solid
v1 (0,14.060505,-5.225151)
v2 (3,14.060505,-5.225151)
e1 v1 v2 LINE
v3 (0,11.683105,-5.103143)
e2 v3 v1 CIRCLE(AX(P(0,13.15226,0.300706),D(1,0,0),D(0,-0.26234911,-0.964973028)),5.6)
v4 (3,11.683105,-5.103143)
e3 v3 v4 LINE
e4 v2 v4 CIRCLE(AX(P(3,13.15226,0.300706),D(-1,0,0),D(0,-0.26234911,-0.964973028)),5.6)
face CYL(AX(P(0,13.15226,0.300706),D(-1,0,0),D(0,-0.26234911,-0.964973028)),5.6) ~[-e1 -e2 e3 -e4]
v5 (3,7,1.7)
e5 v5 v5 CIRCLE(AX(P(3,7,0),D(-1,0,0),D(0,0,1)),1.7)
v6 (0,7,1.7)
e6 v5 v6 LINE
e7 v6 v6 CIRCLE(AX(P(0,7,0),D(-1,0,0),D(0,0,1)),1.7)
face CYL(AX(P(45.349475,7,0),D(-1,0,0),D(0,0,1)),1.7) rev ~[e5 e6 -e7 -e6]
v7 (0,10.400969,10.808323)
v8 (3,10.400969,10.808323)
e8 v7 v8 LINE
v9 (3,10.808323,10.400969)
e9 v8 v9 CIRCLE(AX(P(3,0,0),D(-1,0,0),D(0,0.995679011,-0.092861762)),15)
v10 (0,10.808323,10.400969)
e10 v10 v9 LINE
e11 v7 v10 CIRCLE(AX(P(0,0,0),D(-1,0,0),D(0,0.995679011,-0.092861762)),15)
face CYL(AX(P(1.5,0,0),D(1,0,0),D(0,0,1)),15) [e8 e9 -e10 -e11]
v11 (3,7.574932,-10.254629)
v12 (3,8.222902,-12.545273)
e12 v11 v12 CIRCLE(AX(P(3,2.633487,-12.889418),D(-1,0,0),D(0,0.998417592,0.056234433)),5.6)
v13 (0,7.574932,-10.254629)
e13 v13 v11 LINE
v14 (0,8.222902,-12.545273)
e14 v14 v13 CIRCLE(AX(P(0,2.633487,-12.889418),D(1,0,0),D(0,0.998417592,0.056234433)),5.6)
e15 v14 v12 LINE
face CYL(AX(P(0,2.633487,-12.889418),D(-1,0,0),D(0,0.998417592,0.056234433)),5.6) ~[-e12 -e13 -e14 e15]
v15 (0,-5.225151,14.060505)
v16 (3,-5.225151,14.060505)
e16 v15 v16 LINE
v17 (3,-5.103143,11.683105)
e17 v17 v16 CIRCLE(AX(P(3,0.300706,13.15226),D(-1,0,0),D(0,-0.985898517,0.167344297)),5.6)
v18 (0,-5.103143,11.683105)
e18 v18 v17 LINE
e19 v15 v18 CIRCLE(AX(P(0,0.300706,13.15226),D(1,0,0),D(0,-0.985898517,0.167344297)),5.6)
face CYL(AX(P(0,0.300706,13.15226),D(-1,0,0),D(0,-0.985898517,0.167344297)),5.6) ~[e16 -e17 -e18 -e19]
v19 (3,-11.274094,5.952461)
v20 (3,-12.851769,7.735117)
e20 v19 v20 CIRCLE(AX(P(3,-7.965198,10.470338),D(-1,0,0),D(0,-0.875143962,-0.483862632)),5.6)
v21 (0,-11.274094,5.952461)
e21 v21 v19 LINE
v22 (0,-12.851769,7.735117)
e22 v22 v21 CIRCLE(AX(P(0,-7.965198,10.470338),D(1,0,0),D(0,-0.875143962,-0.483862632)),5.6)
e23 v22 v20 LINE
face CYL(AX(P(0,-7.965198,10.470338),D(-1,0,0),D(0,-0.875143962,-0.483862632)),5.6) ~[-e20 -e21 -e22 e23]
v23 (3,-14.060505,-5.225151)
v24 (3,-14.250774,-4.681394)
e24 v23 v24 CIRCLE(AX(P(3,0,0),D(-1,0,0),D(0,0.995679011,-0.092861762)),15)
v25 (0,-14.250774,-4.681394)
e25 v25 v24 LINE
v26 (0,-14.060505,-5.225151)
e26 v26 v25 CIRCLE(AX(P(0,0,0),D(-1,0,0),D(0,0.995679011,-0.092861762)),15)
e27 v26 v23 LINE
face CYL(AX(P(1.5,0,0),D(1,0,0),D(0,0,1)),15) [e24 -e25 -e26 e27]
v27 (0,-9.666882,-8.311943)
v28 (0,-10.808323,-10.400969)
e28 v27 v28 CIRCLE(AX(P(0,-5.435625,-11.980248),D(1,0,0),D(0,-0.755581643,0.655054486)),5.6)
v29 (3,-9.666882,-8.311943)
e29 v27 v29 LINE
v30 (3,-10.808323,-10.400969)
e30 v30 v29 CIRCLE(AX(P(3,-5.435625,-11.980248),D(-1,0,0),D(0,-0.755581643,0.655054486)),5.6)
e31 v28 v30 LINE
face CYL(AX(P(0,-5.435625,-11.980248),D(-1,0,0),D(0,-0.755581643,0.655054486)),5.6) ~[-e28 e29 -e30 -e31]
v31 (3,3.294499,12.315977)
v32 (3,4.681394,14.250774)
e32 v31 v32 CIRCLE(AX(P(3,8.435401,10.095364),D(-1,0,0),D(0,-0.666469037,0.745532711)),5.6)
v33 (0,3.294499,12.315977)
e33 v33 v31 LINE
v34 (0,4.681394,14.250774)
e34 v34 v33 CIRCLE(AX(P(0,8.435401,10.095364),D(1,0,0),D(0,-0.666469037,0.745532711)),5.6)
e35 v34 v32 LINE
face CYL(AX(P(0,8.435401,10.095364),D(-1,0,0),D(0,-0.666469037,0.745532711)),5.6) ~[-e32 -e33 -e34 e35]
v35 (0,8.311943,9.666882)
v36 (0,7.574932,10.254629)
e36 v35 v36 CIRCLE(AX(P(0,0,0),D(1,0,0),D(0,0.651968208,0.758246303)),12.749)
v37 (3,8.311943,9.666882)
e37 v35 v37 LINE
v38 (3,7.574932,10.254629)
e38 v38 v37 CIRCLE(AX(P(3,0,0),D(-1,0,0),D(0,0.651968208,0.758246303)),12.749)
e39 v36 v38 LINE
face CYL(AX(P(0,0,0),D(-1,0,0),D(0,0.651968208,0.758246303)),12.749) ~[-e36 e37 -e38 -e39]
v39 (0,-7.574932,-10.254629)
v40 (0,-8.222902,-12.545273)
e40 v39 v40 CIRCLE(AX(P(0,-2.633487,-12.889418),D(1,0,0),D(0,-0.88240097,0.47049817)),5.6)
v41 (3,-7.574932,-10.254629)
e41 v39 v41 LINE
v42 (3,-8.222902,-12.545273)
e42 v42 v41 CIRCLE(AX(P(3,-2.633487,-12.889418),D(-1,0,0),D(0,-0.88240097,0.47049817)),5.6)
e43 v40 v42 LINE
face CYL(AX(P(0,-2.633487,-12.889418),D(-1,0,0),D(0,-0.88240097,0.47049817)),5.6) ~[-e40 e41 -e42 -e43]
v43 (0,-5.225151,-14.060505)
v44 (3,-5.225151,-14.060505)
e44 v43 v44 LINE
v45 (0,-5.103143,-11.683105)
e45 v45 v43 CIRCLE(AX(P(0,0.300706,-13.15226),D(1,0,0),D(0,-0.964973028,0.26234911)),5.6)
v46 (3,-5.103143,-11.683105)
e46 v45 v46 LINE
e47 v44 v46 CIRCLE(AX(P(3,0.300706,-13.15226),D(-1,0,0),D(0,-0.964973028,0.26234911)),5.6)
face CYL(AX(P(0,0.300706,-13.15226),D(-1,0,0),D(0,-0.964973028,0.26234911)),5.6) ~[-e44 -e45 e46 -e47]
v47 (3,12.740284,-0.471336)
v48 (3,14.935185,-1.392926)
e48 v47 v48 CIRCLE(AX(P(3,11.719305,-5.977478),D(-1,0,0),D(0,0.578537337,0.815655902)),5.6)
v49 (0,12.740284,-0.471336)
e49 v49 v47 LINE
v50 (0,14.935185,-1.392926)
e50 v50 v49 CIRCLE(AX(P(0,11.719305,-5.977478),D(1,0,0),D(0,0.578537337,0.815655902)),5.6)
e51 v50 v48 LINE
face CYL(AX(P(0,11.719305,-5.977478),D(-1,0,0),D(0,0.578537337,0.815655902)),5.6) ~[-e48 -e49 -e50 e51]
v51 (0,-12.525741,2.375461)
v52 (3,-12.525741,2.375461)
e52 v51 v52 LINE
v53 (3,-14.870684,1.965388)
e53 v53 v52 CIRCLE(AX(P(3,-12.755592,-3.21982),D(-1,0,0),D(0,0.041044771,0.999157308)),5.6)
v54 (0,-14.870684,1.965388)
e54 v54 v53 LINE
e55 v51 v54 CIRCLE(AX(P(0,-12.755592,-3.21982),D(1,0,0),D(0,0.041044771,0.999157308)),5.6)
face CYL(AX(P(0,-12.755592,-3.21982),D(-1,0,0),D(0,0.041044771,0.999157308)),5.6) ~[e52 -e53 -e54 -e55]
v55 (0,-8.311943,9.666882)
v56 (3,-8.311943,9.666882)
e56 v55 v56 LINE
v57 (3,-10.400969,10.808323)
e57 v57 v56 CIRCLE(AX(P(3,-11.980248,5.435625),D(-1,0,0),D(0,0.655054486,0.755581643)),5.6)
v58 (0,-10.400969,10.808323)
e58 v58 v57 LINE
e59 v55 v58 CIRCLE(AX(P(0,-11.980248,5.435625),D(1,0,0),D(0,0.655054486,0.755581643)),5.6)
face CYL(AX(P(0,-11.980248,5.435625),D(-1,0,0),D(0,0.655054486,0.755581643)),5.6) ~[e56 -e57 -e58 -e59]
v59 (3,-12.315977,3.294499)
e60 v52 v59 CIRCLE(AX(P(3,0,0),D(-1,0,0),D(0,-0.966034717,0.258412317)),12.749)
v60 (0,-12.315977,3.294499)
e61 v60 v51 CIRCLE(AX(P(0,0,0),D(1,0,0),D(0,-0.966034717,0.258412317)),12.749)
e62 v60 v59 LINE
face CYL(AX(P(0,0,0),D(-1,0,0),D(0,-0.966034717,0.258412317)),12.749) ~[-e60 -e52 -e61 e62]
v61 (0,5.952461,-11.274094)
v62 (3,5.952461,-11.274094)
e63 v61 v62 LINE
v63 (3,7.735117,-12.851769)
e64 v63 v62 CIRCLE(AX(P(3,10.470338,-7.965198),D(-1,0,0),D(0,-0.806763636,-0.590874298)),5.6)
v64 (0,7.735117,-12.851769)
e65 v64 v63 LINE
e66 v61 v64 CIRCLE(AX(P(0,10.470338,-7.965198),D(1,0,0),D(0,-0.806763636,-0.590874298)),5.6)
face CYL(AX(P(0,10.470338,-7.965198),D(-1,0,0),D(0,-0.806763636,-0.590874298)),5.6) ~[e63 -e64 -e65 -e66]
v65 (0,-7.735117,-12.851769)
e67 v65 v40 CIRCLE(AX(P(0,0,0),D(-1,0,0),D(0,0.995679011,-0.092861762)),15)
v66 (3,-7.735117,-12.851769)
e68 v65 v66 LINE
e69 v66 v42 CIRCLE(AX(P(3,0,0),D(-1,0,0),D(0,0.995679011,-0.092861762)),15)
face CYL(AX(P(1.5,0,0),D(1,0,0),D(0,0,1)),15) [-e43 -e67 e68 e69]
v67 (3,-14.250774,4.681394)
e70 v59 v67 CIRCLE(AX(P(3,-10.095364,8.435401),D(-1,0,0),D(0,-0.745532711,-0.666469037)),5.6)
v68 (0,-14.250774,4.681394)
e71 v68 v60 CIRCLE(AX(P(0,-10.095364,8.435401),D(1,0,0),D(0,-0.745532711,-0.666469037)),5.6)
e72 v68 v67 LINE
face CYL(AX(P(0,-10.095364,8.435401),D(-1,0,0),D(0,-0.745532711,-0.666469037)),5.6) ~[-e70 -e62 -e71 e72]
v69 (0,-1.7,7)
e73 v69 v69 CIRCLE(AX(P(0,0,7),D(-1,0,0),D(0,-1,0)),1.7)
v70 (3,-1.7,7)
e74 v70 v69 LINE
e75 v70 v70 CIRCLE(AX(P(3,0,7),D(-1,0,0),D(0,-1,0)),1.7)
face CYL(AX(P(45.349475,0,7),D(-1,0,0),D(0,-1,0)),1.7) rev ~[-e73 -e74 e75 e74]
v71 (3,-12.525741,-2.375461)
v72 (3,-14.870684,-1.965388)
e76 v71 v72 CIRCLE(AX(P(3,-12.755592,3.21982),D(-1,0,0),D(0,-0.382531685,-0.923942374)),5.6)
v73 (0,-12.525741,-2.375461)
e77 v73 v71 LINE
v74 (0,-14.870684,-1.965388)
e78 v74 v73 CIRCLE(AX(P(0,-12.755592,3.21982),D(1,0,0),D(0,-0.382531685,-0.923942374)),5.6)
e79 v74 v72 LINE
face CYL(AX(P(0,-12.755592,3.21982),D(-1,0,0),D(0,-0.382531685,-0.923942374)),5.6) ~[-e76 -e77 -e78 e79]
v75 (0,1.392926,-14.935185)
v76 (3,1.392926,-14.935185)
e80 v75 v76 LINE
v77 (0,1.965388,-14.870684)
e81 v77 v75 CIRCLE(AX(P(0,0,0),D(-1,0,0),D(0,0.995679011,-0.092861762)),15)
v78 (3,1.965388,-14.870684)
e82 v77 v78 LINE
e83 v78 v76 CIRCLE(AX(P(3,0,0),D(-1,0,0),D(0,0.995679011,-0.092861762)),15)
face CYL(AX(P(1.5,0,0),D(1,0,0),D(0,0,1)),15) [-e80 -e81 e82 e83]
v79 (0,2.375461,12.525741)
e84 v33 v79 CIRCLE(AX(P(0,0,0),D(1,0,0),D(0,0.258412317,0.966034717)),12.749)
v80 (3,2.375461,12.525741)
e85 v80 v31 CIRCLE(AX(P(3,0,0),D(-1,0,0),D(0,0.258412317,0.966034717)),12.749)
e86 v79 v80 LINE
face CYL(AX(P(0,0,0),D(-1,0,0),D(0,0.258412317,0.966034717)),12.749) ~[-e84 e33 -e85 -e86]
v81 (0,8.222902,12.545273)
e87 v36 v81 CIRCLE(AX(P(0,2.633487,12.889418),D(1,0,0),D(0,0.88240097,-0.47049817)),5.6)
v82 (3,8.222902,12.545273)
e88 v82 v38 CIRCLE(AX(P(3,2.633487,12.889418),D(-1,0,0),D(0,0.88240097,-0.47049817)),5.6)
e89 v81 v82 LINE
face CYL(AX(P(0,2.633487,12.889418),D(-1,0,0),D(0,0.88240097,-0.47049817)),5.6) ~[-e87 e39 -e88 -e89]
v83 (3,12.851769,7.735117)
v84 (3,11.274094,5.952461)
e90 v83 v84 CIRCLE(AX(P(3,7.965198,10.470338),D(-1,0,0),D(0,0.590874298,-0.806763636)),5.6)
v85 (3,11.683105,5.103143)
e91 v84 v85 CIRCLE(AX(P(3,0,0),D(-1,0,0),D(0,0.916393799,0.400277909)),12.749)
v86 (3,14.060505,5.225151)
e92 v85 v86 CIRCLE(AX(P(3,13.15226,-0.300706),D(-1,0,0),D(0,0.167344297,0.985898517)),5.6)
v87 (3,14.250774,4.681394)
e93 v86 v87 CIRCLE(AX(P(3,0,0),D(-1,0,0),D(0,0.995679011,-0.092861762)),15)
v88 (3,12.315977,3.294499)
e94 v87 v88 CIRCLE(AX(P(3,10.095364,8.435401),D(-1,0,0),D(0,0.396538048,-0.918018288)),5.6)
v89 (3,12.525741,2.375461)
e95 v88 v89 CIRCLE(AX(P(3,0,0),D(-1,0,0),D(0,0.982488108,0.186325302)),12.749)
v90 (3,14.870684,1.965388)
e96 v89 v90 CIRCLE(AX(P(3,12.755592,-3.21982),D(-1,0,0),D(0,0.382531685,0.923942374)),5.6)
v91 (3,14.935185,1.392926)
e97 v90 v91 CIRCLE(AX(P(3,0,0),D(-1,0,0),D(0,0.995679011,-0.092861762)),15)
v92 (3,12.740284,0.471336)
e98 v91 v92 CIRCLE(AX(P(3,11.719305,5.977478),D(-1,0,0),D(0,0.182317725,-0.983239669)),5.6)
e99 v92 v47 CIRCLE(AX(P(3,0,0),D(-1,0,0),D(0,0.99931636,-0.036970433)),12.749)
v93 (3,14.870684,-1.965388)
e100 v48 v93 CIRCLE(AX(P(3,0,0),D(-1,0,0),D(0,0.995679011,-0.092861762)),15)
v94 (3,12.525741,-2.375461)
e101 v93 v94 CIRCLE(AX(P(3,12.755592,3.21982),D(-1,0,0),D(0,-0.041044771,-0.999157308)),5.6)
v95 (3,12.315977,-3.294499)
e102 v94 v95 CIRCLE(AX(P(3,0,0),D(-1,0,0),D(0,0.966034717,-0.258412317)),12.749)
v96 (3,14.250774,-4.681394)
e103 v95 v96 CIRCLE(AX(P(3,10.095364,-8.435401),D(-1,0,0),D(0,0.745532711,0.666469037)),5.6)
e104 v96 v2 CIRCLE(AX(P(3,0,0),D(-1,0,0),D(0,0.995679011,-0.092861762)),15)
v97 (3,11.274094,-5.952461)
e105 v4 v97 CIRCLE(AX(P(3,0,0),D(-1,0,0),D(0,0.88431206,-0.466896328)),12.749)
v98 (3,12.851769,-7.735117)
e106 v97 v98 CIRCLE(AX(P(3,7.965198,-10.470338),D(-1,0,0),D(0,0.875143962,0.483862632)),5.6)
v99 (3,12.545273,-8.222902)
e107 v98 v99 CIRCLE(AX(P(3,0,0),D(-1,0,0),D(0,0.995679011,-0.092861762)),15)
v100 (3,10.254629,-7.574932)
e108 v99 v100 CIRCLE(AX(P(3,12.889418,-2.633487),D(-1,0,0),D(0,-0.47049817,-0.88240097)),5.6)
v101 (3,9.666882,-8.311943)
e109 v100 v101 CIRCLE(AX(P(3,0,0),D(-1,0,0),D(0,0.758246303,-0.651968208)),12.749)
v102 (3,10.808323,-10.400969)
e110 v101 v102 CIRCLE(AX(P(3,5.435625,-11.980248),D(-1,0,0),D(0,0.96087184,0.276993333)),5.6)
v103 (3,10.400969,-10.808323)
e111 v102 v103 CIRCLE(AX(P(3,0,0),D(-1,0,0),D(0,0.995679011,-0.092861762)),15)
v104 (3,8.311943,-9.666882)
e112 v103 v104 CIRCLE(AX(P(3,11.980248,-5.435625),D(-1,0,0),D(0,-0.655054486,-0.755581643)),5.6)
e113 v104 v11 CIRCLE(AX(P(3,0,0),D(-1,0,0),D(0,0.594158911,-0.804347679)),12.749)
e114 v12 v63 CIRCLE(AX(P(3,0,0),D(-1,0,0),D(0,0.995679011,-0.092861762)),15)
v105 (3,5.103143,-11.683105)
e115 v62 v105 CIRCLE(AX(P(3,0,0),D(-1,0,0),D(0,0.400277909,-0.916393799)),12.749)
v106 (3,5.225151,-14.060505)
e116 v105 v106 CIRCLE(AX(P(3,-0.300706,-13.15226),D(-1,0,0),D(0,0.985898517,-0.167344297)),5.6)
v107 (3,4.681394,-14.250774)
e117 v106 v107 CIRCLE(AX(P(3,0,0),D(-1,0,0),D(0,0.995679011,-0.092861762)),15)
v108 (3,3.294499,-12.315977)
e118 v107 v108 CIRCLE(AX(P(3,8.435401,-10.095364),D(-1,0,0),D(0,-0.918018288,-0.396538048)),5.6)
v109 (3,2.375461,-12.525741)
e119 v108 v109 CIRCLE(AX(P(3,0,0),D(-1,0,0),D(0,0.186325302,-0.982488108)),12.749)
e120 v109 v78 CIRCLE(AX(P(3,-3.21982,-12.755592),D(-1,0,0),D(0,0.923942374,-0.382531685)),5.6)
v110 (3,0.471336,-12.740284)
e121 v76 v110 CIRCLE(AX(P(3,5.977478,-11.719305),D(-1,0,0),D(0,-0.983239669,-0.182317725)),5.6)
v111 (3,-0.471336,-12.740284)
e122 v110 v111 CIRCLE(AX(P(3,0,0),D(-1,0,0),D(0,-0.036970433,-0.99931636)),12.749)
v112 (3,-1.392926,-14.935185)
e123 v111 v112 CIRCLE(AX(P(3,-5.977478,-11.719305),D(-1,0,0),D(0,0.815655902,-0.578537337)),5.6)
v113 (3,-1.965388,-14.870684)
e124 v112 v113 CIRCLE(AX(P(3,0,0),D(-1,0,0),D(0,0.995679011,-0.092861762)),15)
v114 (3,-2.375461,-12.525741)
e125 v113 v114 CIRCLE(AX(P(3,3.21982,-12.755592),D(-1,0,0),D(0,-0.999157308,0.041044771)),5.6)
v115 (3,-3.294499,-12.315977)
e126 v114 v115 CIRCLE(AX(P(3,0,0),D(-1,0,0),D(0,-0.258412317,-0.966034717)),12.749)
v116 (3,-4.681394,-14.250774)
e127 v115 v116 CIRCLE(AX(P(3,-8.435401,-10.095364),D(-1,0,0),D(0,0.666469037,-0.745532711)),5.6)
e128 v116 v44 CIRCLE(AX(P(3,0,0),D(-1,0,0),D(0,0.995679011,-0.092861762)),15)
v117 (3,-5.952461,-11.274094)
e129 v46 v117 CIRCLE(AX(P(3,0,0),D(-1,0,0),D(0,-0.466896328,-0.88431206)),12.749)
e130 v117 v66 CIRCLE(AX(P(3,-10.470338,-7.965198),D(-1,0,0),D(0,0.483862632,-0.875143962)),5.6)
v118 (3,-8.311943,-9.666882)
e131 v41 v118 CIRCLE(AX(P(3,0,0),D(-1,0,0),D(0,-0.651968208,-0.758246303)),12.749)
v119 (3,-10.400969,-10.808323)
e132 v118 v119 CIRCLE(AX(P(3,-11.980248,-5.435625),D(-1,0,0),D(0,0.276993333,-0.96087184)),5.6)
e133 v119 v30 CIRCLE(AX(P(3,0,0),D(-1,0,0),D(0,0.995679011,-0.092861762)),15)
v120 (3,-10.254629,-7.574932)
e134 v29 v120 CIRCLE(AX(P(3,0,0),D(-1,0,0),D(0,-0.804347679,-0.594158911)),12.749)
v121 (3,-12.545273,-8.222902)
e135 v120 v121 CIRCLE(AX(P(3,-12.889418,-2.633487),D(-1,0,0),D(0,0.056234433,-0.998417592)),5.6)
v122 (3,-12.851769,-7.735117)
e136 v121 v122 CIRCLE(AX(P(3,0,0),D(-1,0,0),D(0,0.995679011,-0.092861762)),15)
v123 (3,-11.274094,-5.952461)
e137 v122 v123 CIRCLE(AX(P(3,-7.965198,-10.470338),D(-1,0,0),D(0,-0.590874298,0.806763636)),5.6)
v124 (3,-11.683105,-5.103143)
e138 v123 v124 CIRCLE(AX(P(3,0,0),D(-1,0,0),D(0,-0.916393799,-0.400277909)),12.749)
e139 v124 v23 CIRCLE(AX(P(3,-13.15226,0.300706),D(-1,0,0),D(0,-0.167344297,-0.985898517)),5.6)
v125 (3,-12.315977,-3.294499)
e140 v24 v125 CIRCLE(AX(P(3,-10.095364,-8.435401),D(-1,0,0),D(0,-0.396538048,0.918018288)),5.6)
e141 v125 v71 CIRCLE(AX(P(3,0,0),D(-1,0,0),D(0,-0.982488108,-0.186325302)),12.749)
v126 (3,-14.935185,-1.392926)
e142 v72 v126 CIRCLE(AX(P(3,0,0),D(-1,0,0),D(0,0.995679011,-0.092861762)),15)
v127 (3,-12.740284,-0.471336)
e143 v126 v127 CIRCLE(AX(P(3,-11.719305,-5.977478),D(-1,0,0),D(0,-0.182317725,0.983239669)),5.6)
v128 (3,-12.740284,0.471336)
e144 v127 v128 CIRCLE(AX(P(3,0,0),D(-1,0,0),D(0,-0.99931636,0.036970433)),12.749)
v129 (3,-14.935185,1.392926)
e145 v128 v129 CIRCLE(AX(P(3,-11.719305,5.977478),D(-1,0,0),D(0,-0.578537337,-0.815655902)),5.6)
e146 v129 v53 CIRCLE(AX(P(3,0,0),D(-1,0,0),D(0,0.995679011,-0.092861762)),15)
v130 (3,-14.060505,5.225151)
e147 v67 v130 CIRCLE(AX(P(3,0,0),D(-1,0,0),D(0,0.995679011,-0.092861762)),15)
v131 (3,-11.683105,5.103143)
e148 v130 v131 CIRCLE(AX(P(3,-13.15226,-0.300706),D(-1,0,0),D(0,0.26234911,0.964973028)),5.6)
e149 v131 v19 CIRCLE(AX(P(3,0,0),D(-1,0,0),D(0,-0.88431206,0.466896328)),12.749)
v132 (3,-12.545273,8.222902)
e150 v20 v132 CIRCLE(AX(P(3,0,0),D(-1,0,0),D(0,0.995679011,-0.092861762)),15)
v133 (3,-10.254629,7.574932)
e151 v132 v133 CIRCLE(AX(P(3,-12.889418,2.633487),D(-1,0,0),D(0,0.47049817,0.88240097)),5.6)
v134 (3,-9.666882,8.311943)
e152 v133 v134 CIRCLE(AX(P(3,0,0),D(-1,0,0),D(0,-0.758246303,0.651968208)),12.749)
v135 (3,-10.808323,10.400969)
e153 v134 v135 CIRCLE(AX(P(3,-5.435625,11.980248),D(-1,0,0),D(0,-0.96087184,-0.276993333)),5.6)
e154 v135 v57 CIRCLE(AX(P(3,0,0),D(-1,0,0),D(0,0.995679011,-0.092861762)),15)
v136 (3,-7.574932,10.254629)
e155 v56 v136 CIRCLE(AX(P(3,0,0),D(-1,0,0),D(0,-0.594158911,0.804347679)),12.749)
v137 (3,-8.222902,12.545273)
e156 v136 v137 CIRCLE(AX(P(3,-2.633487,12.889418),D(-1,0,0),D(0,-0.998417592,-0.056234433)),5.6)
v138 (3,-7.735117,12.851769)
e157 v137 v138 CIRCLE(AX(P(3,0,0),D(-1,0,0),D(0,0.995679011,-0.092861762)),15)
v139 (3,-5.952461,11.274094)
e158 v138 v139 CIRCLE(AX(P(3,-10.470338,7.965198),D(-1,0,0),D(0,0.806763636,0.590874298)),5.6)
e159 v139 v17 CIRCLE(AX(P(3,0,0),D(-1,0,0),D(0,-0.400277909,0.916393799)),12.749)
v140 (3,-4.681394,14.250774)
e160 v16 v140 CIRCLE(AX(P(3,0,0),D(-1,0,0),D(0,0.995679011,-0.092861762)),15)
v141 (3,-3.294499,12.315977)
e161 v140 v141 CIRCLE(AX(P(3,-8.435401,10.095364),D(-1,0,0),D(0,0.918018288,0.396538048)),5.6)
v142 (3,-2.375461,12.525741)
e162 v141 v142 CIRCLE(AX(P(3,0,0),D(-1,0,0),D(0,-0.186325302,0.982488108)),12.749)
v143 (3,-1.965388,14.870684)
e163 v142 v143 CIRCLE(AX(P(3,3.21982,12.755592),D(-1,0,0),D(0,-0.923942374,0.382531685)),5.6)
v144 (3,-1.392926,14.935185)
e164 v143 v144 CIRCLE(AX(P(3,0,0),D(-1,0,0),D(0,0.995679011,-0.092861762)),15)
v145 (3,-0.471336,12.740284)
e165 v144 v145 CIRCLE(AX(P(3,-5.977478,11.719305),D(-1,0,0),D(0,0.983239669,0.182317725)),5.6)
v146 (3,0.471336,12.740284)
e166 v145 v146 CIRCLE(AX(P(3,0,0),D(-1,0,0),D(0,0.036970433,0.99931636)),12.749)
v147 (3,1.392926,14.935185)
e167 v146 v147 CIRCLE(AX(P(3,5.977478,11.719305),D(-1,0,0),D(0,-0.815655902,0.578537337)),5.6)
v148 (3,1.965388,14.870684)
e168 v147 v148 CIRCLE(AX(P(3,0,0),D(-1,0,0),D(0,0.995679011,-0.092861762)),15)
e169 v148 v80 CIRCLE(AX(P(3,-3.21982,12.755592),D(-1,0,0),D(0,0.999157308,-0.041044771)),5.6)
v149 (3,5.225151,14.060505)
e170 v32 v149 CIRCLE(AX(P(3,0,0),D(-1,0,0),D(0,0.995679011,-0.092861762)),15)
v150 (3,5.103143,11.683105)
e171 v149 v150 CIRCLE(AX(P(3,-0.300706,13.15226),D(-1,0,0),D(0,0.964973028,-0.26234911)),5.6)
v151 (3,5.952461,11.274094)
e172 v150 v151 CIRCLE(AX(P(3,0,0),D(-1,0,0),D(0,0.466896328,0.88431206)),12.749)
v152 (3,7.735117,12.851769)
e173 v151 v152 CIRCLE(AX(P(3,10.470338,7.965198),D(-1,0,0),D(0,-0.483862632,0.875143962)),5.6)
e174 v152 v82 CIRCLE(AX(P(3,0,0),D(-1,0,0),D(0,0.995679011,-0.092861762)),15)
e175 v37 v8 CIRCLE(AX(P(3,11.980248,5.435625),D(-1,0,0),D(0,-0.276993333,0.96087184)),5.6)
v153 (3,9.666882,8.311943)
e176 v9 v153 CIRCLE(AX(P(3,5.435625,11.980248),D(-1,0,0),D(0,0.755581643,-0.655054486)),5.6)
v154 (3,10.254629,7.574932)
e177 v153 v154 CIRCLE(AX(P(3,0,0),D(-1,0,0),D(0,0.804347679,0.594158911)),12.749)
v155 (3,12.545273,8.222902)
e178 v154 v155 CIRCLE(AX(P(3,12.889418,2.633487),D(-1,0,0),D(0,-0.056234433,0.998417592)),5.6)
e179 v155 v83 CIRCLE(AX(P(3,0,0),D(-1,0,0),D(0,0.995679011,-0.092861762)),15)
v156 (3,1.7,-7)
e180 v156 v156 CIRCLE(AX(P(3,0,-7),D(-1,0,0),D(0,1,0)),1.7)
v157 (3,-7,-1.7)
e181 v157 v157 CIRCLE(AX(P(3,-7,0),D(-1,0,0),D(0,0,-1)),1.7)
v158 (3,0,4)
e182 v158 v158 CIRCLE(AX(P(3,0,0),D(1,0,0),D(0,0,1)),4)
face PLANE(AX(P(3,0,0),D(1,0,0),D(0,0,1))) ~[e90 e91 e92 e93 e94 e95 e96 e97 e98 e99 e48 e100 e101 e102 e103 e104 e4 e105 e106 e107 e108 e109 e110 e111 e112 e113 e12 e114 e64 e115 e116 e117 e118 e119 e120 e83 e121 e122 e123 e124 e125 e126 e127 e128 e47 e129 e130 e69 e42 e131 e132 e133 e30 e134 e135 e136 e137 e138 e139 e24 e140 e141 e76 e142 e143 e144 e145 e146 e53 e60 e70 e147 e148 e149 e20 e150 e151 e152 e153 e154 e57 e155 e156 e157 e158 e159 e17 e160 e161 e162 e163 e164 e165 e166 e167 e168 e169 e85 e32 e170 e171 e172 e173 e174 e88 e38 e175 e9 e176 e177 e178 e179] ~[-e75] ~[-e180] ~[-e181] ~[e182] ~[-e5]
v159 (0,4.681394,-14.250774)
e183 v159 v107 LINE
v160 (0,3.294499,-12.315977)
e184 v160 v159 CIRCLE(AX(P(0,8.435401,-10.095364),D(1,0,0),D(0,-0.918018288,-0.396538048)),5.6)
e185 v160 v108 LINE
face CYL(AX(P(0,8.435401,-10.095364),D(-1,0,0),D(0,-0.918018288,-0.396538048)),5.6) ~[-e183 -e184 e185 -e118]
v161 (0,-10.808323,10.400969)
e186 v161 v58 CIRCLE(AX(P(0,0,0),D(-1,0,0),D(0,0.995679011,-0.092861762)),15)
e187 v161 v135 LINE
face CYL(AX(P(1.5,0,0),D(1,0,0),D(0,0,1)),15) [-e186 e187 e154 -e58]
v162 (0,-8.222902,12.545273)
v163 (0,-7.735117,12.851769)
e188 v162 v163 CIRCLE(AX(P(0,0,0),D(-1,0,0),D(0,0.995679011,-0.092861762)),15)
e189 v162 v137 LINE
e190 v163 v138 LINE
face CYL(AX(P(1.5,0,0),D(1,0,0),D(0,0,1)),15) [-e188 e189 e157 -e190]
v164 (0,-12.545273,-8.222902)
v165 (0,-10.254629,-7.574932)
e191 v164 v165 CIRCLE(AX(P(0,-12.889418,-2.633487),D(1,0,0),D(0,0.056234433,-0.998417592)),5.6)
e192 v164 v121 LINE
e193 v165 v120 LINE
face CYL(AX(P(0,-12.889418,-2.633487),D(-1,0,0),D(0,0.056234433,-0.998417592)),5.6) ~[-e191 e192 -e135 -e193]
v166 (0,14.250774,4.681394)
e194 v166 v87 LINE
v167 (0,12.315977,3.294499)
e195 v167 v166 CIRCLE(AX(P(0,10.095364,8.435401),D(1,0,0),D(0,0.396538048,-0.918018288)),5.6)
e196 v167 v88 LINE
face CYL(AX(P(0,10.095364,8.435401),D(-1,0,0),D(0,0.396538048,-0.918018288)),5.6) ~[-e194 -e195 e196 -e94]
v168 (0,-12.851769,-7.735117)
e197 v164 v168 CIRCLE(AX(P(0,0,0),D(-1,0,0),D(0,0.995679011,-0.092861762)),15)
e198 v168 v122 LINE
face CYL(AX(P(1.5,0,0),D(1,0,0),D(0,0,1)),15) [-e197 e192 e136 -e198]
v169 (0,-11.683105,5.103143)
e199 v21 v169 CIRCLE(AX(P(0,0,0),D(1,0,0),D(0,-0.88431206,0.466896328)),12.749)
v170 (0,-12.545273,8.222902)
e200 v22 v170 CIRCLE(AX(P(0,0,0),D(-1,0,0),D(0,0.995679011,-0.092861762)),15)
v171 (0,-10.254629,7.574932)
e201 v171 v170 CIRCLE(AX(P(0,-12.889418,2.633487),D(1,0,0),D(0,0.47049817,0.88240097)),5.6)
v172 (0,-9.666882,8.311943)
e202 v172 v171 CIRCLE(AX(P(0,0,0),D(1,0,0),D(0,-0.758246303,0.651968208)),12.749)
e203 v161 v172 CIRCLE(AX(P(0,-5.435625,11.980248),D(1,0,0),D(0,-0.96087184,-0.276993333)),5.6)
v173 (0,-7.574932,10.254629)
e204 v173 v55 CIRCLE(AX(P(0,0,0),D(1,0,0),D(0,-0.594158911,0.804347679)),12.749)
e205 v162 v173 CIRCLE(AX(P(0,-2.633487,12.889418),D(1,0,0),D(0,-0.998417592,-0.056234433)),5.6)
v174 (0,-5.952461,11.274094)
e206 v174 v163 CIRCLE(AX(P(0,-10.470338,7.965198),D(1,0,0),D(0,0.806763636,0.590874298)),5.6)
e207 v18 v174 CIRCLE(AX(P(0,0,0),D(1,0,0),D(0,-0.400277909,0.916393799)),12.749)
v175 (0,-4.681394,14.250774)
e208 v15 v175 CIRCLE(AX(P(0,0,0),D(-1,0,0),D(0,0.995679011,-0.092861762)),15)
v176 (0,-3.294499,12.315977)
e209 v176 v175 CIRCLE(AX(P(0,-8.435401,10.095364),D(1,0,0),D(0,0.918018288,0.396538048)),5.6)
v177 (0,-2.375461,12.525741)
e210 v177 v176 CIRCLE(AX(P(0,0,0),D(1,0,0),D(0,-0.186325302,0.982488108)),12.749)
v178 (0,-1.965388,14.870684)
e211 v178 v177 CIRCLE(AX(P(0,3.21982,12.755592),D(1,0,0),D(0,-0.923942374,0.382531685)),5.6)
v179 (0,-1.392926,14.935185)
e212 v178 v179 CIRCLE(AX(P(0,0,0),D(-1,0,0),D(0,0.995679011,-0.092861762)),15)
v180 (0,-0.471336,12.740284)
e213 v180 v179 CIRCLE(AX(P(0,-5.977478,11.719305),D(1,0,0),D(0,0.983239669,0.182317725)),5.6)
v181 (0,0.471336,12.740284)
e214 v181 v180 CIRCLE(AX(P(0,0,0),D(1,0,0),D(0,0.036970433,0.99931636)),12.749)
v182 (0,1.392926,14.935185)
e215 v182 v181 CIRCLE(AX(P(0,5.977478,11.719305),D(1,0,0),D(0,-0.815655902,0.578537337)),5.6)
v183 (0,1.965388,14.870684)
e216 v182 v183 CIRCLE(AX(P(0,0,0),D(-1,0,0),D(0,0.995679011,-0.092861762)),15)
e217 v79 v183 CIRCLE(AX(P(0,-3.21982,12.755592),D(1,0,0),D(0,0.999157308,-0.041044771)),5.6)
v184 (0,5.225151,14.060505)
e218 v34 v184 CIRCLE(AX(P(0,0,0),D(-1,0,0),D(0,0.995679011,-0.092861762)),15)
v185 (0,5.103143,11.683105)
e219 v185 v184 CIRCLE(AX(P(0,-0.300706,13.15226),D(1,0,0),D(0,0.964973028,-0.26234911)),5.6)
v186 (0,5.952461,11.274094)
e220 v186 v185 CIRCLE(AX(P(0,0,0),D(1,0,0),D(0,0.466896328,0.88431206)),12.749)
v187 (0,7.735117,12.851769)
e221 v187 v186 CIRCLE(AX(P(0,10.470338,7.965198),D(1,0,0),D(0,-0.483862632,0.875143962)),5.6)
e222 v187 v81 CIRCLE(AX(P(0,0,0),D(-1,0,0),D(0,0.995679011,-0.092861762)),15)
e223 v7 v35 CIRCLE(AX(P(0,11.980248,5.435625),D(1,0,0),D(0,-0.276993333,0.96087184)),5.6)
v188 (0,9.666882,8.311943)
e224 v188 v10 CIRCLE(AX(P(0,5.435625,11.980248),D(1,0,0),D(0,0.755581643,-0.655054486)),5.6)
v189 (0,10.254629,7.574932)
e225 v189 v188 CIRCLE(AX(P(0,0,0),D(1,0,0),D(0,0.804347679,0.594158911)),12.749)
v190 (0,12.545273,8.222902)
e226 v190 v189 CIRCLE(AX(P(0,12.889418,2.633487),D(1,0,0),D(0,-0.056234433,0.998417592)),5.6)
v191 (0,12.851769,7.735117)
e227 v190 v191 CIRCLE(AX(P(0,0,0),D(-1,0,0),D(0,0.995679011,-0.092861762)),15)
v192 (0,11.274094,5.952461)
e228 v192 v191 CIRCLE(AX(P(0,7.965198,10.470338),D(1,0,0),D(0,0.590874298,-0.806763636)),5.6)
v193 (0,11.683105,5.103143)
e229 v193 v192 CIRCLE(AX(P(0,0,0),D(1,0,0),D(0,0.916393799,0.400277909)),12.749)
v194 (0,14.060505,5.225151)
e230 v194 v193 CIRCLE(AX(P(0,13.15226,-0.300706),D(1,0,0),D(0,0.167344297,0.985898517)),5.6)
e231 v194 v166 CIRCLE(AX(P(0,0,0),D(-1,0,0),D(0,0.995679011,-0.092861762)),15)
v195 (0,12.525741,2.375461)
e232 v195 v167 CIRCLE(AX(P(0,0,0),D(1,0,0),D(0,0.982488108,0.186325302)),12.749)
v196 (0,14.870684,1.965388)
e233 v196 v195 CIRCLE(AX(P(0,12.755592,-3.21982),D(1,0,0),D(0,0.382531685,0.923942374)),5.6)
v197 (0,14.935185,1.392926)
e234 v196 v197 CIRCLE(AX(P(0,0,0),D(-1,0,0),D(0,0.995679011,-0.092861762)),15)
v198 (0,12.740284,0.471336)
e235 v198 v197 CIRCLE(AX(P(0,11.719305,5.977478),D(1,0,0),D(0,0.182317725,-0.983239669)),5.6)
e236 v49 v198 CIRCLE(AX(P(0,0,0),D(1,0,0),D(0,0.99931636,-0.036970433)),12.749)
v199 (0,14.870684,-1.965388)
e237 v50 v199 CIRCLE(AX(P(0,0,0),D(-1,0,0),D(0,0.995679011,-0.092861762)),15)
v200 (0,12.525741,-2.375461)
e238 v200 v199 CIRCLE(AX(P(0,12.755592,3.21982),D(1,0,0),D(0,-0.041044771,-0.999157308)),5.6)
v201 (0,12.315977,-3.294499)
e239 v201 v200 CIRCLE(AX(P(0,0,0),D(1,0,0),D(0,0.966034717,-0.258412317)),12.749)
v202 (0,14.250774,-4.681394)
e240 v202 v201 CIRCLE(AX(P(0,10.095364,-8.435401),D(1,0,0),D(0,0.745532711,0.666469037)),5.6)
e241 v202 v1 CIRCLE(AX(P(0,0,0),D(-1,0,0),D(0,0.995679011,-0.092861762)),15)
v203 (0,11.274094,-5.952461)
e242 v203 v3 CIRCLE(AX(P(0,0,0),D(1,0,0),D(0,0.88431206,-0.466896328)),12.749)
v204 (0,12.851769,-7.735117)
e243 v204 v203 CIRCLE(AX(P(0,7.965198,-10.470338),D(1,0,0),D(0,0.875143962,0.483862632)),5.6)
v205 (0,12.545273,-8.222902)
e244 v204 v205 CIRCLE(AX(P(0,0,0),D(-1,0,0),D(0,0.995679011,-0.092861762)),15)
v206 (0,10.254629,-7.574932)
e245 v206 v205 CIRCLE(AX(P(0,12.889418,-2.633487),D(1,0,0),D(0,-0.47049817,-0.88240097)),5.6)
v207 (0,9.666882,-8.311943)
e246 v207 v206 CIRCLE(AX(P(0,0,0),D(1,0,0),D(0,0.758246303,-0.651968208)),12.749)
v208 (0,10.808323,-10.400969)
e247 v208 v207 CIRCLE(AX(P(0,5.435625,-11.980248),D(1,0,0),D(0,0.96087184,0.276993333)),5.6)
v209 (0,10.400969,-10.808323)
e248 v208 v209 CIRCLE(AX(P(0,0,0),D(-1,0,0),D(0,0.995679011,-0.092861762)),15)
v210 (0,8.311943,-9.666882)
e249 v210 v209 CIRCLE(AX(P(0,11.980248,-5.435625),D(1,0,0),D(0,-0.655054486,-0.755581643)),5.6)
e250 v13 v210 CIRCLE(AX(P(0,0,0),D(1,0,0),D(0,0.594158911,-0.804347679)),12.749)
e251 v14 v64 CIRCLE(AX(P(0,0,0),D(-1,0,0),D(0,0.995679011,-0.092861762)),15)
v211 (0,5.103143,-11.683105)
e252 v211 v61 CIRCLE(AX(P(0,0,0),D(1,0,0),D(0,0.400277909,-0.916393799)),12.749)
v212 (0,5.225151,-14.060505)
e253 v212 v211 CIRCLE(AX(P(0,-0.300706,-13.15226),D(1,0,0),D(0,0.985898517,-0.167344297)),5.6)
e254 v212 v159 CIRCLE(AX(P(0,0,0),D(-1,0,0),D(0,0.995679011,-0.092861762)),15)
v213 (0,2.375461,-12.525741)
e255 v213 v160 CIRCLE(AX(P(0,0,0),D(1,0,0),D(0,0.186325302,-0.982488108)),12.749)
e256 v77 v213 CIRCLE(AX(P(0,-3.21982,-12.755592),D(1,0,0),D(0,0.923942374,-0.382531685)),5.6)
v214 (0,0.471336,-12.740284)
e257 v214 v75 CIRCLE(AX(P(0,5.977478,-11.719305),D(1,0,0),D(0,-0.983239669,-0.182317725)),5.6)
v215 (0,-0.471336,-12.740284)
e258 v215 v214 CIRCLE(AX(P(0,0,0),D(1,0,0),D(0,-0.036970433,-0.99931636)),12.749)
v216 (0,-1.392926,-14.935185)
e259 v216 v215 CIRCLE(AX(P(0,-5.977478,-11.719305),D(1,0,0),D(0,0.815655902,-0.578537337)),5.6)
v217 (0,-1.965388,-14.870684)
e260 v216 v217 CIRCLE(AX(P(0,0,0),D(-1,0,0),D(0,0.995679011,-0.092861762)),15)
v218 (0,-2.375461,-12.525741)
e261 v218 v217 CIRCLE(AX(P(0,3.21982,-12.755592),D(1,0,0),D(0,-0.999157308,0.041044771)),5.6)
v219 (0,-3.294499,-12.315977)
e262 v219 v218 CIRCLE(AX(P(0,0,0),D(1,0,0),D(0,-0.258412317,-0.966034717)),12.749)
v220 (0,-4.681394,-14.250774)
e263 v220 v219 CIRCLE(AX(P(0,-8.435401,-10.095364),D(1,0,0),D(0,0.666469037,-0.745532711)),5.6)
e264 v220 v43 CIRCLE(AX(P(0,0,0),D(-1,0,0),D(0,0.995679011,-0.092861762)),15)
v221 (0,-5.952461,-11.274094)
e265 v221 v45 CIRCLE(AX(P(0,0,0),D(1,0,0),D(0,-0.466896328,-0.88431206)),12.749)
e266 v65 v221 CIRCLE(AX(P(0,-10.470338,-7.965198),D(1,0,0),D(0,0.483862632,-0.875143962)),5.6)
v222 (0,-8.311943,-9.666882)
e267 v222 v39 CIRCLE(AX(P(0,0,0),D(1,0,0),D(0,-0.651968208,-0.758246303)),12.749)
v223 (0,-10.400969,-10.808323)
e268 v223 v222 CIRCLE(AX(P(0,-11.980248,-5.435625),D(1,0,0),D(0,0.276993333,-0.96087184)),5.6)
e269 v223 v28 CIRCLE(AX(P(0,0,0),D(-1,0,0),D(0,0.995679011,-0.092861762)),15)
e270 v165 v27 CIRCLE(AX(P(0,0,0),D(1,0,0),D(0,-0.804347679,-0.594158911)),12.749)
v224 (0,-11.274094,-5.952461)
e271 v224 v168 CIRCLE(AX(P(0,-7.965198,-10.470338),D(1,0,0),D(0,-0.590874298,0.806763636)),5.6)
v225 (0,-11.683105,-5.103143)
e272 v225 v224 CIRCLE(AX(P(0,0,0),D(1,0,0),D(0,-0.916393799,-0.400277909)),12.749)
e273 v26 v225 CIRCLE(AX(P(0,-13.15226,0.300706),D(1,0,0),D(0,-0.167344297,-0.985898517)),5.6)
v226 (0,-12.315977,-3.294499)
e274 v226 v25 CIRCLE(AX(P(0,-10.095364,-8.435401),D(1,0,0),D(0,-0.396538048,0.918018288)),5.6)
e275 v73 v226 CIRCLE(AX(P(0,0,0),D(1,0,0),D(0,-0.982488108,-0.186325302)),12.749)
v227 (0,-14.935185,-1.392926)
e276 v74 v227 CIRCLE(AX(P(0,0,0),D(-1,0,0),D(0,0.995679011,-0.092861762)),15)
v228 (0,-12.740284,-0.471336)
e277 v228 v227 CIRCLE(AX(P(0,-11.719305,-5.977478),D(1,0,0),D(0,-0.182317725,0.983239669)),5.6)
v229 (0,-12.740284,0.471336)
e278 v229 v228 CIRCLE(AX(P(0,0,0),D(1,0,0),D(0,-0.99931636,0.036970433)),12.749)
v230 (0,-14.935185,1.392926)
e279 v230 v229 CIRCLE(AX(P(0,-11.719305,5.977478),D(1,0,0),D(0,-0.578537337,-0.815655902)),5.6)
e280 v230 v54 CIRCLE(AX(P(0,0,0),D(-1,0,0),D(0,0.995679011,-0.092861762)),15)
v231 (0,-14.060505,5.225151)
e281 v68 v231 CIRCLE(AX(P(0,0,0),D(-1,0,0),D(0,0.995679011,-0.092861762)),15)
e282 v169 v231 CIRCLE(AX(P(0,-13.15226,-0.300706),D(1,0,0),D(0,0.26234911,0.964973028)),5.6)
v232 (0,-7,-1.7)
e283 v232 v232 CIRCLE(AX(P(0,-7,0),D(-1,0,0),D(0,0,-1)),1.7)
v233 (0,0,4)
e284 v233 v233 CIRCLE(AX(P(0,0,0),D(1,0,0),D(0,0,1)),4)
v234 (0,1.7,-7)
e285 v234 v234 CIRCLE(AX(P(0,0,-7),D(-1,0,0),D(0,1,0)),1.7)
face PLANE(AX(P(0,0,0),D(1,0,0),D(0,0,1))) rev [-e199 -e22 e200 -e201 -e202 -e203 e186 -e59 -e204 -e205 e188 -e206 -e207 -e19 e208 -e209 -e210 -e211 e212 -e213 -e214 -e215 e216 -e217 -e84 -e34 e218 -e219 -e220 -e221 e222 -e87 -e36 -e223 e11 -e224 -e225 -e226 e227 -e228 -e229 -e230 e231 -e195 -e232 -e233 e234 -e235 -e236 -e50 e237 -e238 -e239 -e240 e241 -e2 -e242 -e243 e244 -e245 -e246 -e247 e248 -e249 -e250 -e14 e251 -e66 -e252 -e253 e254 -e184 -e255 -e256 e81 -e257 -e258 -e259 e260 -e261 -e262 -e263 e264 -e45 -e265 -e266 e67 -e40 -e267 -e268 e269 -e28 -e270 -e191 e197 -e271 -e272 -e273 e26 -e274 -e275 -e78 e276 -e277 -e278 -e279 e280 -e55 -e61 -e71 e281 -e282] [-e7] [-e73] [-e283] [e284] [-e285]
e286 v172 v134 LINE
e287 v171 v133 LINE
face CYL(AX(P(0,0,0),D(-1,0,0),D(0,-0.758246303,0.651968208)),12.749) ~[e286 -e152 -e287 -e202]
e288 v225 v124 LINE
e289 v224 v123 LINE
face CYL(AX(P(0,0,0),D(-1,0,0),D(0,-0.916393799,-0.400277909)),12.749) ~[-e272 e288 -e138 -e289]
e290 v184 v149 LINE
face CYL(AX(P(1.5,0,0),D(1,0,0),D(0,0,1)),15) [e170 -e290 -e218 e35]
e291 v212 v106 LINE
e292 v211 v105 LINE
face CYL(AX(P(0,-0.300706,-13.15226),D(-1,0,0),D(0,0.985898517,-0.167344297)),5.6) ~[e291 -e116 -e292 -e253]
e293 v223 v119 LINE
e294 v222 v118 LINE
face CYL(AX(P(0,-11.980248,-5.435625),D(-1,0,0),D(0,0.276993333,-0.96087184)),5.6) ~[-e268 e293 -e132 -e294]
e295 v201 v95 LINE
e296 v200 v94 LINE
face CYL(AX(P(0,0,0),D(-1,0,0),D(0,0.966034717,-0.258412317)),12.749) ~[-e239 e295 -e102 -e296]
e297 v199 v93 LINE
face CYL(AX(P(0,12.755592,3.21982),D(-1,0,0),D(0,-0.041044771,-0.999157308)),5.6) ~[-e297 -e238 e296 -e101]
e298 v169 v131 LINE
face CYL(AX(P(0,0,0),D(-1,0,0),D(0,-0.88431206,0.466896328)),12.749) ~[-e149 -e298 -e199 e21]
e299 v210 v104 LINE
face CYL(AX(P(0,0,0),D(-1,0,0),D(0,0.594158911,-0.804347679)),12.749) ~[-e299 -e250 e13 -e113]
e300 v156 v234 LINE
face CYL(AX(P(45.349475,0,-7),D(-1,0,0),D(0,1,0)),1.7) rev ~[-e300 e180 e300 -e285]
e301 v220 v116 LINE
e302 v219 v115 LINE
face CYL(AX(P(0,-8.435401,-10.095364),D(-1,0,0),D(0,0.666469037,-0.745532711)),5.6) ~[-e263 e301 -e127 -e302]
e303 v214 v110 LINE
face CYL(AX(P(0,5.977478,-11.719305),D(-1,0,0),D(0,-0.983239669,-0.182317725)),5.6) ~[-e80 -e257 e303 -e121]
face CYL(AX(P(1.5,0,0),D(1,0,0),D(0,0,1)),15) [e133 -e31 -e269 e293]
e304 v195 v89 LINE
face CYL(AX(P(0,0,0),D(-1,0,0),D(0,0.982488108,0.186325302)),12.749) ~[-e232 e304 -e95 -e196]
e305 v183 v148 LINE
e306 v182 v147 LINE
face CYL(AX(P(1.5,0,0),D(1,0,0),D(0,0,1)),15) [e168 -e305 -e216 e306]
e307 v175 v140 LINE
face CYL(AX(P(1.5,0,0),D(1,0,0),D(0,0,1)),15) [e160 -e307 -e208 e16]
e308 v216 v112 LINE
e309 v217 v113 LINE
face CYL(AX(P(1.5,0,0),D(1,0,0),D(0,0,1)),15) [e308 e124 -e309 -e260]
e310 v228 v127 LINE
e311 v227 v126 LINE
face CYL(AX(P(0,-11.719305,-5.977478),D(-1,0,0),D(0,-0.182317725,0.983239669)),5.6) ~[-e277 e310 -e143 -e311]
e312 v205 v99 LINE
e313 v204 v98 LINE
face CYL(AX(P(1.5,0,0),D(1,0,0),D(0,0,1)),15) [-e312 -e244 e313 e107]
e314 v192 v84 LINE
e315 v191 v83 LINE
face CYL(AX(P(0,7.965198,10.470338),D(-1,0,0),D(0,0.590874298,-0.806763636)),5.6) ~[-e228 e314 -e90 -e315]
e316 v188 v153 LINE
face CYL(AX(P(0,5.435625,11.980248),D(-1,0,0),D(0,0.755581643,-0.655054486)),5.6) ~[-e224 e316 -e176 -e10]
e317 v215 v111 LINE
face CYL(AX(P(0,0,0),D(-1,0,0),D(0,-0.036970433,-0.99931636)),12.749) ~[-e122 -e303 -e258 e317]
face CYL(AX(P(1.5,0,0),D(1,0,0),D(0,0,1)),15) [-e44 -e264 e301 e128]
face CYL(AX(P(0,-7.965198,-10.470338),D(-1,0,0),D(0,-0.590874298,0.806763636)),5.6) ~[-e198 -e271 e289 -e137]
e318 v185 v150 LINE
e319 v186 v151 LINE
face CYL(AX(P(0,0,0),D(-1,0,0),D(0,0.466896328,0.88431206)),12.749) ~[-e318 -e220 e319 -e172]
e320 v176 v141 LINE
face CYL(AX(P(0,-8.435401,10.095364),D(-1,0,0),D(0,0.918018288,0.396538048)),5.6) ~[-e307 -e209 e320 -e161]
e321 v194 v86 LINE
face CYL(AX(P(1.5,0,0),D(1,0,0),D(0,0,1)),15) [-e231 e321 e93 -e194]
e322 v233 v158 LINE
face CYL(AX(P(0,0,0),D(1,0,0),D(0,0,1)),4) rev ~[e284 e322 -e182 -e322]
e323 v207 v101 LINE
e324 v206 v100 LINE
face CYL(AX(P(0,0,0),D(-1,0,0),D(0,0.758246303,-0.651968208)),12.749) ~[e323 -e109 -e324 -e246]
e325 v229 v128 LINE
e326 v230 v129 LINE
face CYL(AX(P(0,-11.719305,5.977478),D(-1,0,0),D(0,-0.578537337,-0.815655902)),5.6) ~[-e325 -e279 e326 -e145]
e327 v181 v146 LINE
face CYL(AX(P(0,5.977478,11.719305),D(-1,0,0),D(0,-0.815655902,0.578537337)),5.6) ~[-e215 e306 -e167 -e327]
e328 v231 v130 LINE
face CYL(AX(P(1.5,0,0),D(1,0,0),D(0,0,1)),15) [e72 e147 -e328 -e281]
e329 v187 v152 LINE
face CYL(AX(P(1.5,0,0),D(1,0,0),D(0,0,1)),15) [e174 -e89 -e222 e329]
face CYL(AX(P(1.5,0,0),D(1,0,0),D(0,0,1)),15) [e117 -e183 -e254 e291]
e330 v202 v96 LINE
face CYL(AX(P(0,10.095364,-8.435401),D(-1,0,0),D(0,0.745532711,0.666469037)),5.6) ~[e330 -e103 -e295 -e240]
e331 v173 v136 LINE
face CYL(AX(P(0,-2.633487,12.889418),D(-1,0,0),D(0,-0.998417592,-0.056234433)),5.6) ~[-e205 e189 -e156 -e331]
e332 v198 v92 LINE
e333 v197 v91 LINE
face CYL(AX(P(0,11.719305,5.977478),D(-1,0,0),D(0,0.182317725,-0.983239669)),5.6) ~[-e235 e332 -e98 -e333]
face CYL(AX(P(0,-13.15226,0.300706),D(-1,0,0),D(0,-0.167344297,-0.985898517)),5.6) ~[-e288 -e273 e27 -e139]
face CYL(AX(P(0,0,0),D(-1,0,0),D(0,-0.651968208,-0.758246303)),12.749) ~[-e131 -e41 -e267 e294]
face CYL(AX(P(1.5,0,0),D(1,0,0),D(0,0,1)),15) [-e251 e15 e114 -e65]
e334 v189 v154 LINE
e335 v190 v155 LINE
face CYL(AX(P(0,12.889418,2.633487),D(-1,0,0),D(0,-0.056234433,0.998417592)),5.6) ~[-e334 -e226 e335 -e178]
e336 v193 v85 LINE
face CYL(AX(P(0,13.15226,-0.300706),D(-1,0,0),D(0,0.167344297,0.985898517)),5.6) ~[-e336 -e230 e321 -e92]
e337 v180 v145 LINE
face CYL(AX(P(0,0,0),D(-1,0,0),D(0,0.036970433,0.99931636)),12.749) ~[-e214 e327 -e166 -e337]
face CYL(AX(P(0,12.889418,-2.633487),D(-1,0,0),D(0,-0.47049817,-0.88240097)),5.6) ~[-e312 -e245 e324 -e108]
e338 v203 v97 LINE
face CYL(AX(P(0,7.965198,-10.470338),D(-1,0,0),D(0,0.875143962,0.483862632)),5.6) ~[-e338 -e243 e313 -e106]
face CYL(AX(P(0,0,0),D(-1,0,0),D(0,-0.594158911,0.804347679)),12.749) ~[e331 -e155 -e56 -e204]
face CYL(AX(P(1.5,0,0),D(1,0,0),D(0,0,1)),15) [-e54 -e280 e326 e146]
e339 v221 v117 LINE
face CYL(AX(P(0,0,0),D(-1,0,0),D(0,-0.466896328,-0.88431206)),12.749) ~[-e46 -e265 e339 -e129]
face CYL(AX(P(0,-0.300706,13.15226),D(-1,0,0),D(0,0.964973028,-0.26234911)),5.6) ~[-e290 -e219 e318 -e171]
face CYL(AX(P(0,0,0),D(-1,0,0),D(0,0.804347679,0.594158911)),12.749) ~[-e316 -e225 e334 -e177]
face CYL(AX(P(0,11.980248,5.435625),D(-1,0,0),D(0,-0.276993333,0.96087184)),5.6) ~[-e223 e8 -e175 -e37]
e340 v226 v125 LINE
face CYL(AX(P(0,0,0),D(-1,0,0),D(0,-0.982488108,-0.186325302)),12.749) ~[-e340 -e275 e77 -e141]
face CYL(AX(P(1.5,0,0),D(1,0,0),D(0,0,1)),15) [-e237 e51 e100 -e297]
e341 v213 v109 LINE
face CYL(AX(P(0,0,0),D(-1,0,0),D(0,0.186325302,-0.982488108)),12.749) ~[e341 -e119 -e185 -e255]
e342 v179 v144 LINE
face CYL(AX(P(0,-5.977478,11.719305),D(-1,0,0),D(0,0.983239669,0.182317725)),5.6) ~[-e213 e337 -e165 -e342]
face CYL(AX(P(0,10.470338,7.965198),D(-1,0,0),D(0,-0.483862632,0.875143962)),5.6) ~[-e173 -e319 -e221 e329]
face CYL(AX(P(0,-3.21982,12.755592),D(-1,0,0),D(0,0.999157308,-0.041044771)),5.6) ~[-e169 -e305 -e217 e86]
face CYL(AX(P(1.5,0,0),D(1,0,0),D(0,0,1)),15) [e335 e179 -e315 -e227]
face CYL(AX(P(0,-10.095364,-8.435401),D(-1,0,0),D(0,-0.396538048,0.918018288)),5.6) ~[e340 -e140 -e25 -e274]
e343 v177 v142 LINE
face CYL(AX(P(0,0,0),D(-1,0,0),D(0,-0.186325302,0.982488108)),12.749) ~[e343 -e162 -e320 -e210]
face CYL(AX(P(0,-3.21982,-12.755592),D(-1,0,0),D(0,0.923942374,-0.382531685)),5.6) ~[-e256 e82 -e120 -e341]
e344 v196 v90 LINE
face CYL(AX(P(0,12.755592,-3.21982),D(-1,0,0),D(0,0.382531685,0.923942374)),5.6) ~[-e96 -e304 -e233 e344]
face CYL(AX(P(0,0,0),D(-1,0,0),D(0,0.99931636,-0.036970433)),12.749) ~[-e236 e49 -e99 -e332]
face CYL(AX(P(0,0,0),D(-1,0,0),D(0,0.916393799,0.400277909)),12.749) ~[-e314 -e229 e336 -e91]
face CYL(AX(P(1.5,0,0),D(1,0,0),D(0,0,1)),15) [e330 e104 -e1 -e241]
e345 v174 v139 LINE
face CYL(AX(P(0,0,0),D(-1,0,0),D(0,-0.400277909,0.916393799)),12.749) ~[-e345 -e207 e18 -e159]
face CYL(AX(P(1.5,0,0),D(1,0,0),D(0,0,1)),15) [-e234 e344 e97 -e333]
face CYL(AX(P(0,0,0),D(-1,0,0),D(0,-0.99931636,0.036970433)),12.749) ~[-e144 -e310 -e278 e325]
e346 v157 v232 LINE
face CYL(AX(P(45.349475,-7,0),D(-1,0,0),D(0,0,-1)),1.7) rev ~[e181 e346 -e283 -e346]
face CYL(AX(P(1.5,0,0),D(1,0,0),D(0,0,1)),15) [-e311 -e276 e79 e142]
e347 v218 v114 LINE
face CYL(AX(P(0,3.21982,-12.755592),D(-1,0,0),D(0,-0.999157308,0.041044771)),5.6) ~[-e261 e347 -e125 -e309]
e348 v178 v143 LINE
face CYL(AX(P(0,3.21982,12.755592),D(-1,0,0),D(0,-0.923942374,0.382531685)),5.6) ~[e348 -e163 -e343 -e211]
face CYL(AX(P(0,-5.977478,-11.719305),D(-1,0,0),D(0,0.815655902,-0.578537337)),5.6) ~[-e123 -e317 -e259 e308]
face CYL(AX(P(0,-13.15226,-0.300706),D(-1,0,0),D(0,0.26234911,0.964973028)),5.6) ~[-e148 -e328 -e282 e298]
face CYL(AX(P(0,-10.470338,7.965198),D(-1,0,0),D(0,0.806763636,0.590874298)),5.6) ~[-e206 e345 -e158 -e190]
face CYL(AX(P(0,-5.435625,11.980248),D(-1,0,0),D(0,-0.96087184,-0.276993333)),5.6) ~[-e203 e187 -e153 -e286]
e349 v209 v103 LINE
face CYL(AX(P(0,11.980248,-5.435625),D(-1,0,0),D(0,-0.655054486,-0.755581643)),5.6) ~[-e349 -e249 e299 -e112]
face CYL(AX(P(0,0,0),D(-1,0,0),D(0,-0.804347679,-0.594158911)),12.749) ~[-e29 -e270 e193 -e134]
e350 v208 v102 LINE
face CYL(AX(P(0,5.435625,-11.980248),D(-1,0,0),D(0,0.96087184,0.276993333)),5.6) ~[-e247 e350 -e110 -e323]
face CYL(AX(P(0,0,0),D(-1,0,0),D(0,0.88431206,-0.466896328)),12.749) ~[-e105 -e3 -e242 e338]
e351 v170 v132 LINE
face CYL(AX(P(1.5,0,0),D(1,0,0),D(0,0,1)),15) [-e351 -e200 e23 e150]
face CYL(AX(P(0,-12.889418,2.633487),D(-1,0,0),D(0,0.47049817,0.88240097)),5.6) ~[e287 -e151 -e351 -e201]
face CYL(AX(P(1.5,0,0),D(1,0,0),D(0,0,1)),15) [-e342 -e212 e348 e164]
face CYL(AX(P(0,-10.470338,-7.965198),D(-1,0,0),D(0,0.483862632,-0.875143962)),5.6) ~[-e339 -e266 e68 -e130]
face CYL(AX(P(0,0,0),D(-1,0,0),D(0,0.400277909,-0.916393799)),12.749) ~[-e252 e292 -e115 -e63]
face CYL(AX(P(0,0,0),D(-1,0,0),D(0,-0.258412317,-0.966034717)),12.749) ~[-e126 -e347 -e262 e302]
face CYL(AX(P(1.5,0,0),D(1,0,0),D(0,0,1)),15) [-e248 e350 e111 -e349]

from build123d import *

# Parameters (mm, degrees)
BASPROSKE_W          = 3
BASPROSKE_H          = 15
TOOTHCUT_DEPTH       = 22.424285286
TEETHCUTS_COUNT      = 28
TEETHCUTS_ANGLE      = 347.142857143
BORSKE_R             = 4
BORE_DEPTH           = 50.0000508
M3_CLEARANCE_HOLE1_D = 3.4
CIRPATTERN1_COUNT    = 4


with BuildPart() as part:
    # BasProSke → Base-Revolve (revolve)
    with BuildSketch(Plane(origin=(0, 0, 0), x_dir=(1, 0, 0), z_dir=(0, 1, 0)), mode=Mode.PRIVATE) as base_revolve_sk:
        with Locations((1.5, 7.5)):
            Rectangle(BASPROSKE_W, BASPROSKE_H)
    revolve(base_revolve_sk.sketch.rotate(Axis((-10, 0, 0), (1, 0, 0)), 180), axis=Axis((-10, 0, 0), (1, 0, 0)))

    # TooCutSke → ToothCut (cut, through all)
    with BuildSketch(Plane(origin=(0, 0, 0), x_dir=(0, 0, -1), z_dir=(1, 0, 0))):
        with BuildLine():
            ThreePointArc((0.471336039, 12.740284272), (0, 12.749), (-0.471336039, 12.740284272))
            ThreePointArc((-0.471336039, 12.740284272), (-0.81983923, 13.900763331), (-1.409805137, 14.959114099))
            ThreePointArc((-1.409805137, 14.959114099), (0, 15.0254), (1.409805137, 14.959114099))
            ThreePointArc((1.409805137, 14.959114099), (0.81983923, 13.900763331), (0.471336039, 12.740284272))
        make_face()
    toothcut = extrude(amount=TOOTHCUT_DEPTH, mode=Mode.SUBTRACT)

    # TeethCuts: ToothCut ×28 about axis
    teethcuts_axis = Axis((-10, 0, 0), (1, 0, 0))
    for i in range(1, TEETHCUTS_COUNT):
        add(toothcut.rotate(teethcuts_axis, i * TEETHCUTS_ANGLE / (TEETHCUTS_COUNT - 1)), mode=Mode.SUBTRACT)

    # BorSke → Bore (cut, symmetric)
    with BuildSketch(Plane(origin=(0, 0, 0), x_dir=(0, 0, -1), z_dir=(1, 0, 0))):
        with Locations(Location((0, 0, 0), (0, 0, 180))):
            Circle(BORSKE_R)
    extrude(amount=BORE_DEPTH, both=True, mode=Mode.SUBTRACT)

    # M3 Clearance Hole1 (through all)
    with Locations(Plane(origin=(3, 0, 0), x_dir=(0, 0, -1), z_dir=(1, 0, 0))):
        with Locations((0, 7)):
            m3_clearance_hole1 = Hole(M3_CLEARANCE_HOLE1_D / 2)

    # CirPattern1: M3 Clearance Hole1 ×4 about axis
    cirpattern1_axis = Axis((0, 0, 0), (1, 0, 0))
    for i in range(1, CIRPATTERN1_COUNT):
        add(m3_clearance_hole1.rotate(cirpattern1_axis, i * 360 / CIRPATTERN1_COUNT), mode=Mode.SUBTRACT)


solid = part.part
